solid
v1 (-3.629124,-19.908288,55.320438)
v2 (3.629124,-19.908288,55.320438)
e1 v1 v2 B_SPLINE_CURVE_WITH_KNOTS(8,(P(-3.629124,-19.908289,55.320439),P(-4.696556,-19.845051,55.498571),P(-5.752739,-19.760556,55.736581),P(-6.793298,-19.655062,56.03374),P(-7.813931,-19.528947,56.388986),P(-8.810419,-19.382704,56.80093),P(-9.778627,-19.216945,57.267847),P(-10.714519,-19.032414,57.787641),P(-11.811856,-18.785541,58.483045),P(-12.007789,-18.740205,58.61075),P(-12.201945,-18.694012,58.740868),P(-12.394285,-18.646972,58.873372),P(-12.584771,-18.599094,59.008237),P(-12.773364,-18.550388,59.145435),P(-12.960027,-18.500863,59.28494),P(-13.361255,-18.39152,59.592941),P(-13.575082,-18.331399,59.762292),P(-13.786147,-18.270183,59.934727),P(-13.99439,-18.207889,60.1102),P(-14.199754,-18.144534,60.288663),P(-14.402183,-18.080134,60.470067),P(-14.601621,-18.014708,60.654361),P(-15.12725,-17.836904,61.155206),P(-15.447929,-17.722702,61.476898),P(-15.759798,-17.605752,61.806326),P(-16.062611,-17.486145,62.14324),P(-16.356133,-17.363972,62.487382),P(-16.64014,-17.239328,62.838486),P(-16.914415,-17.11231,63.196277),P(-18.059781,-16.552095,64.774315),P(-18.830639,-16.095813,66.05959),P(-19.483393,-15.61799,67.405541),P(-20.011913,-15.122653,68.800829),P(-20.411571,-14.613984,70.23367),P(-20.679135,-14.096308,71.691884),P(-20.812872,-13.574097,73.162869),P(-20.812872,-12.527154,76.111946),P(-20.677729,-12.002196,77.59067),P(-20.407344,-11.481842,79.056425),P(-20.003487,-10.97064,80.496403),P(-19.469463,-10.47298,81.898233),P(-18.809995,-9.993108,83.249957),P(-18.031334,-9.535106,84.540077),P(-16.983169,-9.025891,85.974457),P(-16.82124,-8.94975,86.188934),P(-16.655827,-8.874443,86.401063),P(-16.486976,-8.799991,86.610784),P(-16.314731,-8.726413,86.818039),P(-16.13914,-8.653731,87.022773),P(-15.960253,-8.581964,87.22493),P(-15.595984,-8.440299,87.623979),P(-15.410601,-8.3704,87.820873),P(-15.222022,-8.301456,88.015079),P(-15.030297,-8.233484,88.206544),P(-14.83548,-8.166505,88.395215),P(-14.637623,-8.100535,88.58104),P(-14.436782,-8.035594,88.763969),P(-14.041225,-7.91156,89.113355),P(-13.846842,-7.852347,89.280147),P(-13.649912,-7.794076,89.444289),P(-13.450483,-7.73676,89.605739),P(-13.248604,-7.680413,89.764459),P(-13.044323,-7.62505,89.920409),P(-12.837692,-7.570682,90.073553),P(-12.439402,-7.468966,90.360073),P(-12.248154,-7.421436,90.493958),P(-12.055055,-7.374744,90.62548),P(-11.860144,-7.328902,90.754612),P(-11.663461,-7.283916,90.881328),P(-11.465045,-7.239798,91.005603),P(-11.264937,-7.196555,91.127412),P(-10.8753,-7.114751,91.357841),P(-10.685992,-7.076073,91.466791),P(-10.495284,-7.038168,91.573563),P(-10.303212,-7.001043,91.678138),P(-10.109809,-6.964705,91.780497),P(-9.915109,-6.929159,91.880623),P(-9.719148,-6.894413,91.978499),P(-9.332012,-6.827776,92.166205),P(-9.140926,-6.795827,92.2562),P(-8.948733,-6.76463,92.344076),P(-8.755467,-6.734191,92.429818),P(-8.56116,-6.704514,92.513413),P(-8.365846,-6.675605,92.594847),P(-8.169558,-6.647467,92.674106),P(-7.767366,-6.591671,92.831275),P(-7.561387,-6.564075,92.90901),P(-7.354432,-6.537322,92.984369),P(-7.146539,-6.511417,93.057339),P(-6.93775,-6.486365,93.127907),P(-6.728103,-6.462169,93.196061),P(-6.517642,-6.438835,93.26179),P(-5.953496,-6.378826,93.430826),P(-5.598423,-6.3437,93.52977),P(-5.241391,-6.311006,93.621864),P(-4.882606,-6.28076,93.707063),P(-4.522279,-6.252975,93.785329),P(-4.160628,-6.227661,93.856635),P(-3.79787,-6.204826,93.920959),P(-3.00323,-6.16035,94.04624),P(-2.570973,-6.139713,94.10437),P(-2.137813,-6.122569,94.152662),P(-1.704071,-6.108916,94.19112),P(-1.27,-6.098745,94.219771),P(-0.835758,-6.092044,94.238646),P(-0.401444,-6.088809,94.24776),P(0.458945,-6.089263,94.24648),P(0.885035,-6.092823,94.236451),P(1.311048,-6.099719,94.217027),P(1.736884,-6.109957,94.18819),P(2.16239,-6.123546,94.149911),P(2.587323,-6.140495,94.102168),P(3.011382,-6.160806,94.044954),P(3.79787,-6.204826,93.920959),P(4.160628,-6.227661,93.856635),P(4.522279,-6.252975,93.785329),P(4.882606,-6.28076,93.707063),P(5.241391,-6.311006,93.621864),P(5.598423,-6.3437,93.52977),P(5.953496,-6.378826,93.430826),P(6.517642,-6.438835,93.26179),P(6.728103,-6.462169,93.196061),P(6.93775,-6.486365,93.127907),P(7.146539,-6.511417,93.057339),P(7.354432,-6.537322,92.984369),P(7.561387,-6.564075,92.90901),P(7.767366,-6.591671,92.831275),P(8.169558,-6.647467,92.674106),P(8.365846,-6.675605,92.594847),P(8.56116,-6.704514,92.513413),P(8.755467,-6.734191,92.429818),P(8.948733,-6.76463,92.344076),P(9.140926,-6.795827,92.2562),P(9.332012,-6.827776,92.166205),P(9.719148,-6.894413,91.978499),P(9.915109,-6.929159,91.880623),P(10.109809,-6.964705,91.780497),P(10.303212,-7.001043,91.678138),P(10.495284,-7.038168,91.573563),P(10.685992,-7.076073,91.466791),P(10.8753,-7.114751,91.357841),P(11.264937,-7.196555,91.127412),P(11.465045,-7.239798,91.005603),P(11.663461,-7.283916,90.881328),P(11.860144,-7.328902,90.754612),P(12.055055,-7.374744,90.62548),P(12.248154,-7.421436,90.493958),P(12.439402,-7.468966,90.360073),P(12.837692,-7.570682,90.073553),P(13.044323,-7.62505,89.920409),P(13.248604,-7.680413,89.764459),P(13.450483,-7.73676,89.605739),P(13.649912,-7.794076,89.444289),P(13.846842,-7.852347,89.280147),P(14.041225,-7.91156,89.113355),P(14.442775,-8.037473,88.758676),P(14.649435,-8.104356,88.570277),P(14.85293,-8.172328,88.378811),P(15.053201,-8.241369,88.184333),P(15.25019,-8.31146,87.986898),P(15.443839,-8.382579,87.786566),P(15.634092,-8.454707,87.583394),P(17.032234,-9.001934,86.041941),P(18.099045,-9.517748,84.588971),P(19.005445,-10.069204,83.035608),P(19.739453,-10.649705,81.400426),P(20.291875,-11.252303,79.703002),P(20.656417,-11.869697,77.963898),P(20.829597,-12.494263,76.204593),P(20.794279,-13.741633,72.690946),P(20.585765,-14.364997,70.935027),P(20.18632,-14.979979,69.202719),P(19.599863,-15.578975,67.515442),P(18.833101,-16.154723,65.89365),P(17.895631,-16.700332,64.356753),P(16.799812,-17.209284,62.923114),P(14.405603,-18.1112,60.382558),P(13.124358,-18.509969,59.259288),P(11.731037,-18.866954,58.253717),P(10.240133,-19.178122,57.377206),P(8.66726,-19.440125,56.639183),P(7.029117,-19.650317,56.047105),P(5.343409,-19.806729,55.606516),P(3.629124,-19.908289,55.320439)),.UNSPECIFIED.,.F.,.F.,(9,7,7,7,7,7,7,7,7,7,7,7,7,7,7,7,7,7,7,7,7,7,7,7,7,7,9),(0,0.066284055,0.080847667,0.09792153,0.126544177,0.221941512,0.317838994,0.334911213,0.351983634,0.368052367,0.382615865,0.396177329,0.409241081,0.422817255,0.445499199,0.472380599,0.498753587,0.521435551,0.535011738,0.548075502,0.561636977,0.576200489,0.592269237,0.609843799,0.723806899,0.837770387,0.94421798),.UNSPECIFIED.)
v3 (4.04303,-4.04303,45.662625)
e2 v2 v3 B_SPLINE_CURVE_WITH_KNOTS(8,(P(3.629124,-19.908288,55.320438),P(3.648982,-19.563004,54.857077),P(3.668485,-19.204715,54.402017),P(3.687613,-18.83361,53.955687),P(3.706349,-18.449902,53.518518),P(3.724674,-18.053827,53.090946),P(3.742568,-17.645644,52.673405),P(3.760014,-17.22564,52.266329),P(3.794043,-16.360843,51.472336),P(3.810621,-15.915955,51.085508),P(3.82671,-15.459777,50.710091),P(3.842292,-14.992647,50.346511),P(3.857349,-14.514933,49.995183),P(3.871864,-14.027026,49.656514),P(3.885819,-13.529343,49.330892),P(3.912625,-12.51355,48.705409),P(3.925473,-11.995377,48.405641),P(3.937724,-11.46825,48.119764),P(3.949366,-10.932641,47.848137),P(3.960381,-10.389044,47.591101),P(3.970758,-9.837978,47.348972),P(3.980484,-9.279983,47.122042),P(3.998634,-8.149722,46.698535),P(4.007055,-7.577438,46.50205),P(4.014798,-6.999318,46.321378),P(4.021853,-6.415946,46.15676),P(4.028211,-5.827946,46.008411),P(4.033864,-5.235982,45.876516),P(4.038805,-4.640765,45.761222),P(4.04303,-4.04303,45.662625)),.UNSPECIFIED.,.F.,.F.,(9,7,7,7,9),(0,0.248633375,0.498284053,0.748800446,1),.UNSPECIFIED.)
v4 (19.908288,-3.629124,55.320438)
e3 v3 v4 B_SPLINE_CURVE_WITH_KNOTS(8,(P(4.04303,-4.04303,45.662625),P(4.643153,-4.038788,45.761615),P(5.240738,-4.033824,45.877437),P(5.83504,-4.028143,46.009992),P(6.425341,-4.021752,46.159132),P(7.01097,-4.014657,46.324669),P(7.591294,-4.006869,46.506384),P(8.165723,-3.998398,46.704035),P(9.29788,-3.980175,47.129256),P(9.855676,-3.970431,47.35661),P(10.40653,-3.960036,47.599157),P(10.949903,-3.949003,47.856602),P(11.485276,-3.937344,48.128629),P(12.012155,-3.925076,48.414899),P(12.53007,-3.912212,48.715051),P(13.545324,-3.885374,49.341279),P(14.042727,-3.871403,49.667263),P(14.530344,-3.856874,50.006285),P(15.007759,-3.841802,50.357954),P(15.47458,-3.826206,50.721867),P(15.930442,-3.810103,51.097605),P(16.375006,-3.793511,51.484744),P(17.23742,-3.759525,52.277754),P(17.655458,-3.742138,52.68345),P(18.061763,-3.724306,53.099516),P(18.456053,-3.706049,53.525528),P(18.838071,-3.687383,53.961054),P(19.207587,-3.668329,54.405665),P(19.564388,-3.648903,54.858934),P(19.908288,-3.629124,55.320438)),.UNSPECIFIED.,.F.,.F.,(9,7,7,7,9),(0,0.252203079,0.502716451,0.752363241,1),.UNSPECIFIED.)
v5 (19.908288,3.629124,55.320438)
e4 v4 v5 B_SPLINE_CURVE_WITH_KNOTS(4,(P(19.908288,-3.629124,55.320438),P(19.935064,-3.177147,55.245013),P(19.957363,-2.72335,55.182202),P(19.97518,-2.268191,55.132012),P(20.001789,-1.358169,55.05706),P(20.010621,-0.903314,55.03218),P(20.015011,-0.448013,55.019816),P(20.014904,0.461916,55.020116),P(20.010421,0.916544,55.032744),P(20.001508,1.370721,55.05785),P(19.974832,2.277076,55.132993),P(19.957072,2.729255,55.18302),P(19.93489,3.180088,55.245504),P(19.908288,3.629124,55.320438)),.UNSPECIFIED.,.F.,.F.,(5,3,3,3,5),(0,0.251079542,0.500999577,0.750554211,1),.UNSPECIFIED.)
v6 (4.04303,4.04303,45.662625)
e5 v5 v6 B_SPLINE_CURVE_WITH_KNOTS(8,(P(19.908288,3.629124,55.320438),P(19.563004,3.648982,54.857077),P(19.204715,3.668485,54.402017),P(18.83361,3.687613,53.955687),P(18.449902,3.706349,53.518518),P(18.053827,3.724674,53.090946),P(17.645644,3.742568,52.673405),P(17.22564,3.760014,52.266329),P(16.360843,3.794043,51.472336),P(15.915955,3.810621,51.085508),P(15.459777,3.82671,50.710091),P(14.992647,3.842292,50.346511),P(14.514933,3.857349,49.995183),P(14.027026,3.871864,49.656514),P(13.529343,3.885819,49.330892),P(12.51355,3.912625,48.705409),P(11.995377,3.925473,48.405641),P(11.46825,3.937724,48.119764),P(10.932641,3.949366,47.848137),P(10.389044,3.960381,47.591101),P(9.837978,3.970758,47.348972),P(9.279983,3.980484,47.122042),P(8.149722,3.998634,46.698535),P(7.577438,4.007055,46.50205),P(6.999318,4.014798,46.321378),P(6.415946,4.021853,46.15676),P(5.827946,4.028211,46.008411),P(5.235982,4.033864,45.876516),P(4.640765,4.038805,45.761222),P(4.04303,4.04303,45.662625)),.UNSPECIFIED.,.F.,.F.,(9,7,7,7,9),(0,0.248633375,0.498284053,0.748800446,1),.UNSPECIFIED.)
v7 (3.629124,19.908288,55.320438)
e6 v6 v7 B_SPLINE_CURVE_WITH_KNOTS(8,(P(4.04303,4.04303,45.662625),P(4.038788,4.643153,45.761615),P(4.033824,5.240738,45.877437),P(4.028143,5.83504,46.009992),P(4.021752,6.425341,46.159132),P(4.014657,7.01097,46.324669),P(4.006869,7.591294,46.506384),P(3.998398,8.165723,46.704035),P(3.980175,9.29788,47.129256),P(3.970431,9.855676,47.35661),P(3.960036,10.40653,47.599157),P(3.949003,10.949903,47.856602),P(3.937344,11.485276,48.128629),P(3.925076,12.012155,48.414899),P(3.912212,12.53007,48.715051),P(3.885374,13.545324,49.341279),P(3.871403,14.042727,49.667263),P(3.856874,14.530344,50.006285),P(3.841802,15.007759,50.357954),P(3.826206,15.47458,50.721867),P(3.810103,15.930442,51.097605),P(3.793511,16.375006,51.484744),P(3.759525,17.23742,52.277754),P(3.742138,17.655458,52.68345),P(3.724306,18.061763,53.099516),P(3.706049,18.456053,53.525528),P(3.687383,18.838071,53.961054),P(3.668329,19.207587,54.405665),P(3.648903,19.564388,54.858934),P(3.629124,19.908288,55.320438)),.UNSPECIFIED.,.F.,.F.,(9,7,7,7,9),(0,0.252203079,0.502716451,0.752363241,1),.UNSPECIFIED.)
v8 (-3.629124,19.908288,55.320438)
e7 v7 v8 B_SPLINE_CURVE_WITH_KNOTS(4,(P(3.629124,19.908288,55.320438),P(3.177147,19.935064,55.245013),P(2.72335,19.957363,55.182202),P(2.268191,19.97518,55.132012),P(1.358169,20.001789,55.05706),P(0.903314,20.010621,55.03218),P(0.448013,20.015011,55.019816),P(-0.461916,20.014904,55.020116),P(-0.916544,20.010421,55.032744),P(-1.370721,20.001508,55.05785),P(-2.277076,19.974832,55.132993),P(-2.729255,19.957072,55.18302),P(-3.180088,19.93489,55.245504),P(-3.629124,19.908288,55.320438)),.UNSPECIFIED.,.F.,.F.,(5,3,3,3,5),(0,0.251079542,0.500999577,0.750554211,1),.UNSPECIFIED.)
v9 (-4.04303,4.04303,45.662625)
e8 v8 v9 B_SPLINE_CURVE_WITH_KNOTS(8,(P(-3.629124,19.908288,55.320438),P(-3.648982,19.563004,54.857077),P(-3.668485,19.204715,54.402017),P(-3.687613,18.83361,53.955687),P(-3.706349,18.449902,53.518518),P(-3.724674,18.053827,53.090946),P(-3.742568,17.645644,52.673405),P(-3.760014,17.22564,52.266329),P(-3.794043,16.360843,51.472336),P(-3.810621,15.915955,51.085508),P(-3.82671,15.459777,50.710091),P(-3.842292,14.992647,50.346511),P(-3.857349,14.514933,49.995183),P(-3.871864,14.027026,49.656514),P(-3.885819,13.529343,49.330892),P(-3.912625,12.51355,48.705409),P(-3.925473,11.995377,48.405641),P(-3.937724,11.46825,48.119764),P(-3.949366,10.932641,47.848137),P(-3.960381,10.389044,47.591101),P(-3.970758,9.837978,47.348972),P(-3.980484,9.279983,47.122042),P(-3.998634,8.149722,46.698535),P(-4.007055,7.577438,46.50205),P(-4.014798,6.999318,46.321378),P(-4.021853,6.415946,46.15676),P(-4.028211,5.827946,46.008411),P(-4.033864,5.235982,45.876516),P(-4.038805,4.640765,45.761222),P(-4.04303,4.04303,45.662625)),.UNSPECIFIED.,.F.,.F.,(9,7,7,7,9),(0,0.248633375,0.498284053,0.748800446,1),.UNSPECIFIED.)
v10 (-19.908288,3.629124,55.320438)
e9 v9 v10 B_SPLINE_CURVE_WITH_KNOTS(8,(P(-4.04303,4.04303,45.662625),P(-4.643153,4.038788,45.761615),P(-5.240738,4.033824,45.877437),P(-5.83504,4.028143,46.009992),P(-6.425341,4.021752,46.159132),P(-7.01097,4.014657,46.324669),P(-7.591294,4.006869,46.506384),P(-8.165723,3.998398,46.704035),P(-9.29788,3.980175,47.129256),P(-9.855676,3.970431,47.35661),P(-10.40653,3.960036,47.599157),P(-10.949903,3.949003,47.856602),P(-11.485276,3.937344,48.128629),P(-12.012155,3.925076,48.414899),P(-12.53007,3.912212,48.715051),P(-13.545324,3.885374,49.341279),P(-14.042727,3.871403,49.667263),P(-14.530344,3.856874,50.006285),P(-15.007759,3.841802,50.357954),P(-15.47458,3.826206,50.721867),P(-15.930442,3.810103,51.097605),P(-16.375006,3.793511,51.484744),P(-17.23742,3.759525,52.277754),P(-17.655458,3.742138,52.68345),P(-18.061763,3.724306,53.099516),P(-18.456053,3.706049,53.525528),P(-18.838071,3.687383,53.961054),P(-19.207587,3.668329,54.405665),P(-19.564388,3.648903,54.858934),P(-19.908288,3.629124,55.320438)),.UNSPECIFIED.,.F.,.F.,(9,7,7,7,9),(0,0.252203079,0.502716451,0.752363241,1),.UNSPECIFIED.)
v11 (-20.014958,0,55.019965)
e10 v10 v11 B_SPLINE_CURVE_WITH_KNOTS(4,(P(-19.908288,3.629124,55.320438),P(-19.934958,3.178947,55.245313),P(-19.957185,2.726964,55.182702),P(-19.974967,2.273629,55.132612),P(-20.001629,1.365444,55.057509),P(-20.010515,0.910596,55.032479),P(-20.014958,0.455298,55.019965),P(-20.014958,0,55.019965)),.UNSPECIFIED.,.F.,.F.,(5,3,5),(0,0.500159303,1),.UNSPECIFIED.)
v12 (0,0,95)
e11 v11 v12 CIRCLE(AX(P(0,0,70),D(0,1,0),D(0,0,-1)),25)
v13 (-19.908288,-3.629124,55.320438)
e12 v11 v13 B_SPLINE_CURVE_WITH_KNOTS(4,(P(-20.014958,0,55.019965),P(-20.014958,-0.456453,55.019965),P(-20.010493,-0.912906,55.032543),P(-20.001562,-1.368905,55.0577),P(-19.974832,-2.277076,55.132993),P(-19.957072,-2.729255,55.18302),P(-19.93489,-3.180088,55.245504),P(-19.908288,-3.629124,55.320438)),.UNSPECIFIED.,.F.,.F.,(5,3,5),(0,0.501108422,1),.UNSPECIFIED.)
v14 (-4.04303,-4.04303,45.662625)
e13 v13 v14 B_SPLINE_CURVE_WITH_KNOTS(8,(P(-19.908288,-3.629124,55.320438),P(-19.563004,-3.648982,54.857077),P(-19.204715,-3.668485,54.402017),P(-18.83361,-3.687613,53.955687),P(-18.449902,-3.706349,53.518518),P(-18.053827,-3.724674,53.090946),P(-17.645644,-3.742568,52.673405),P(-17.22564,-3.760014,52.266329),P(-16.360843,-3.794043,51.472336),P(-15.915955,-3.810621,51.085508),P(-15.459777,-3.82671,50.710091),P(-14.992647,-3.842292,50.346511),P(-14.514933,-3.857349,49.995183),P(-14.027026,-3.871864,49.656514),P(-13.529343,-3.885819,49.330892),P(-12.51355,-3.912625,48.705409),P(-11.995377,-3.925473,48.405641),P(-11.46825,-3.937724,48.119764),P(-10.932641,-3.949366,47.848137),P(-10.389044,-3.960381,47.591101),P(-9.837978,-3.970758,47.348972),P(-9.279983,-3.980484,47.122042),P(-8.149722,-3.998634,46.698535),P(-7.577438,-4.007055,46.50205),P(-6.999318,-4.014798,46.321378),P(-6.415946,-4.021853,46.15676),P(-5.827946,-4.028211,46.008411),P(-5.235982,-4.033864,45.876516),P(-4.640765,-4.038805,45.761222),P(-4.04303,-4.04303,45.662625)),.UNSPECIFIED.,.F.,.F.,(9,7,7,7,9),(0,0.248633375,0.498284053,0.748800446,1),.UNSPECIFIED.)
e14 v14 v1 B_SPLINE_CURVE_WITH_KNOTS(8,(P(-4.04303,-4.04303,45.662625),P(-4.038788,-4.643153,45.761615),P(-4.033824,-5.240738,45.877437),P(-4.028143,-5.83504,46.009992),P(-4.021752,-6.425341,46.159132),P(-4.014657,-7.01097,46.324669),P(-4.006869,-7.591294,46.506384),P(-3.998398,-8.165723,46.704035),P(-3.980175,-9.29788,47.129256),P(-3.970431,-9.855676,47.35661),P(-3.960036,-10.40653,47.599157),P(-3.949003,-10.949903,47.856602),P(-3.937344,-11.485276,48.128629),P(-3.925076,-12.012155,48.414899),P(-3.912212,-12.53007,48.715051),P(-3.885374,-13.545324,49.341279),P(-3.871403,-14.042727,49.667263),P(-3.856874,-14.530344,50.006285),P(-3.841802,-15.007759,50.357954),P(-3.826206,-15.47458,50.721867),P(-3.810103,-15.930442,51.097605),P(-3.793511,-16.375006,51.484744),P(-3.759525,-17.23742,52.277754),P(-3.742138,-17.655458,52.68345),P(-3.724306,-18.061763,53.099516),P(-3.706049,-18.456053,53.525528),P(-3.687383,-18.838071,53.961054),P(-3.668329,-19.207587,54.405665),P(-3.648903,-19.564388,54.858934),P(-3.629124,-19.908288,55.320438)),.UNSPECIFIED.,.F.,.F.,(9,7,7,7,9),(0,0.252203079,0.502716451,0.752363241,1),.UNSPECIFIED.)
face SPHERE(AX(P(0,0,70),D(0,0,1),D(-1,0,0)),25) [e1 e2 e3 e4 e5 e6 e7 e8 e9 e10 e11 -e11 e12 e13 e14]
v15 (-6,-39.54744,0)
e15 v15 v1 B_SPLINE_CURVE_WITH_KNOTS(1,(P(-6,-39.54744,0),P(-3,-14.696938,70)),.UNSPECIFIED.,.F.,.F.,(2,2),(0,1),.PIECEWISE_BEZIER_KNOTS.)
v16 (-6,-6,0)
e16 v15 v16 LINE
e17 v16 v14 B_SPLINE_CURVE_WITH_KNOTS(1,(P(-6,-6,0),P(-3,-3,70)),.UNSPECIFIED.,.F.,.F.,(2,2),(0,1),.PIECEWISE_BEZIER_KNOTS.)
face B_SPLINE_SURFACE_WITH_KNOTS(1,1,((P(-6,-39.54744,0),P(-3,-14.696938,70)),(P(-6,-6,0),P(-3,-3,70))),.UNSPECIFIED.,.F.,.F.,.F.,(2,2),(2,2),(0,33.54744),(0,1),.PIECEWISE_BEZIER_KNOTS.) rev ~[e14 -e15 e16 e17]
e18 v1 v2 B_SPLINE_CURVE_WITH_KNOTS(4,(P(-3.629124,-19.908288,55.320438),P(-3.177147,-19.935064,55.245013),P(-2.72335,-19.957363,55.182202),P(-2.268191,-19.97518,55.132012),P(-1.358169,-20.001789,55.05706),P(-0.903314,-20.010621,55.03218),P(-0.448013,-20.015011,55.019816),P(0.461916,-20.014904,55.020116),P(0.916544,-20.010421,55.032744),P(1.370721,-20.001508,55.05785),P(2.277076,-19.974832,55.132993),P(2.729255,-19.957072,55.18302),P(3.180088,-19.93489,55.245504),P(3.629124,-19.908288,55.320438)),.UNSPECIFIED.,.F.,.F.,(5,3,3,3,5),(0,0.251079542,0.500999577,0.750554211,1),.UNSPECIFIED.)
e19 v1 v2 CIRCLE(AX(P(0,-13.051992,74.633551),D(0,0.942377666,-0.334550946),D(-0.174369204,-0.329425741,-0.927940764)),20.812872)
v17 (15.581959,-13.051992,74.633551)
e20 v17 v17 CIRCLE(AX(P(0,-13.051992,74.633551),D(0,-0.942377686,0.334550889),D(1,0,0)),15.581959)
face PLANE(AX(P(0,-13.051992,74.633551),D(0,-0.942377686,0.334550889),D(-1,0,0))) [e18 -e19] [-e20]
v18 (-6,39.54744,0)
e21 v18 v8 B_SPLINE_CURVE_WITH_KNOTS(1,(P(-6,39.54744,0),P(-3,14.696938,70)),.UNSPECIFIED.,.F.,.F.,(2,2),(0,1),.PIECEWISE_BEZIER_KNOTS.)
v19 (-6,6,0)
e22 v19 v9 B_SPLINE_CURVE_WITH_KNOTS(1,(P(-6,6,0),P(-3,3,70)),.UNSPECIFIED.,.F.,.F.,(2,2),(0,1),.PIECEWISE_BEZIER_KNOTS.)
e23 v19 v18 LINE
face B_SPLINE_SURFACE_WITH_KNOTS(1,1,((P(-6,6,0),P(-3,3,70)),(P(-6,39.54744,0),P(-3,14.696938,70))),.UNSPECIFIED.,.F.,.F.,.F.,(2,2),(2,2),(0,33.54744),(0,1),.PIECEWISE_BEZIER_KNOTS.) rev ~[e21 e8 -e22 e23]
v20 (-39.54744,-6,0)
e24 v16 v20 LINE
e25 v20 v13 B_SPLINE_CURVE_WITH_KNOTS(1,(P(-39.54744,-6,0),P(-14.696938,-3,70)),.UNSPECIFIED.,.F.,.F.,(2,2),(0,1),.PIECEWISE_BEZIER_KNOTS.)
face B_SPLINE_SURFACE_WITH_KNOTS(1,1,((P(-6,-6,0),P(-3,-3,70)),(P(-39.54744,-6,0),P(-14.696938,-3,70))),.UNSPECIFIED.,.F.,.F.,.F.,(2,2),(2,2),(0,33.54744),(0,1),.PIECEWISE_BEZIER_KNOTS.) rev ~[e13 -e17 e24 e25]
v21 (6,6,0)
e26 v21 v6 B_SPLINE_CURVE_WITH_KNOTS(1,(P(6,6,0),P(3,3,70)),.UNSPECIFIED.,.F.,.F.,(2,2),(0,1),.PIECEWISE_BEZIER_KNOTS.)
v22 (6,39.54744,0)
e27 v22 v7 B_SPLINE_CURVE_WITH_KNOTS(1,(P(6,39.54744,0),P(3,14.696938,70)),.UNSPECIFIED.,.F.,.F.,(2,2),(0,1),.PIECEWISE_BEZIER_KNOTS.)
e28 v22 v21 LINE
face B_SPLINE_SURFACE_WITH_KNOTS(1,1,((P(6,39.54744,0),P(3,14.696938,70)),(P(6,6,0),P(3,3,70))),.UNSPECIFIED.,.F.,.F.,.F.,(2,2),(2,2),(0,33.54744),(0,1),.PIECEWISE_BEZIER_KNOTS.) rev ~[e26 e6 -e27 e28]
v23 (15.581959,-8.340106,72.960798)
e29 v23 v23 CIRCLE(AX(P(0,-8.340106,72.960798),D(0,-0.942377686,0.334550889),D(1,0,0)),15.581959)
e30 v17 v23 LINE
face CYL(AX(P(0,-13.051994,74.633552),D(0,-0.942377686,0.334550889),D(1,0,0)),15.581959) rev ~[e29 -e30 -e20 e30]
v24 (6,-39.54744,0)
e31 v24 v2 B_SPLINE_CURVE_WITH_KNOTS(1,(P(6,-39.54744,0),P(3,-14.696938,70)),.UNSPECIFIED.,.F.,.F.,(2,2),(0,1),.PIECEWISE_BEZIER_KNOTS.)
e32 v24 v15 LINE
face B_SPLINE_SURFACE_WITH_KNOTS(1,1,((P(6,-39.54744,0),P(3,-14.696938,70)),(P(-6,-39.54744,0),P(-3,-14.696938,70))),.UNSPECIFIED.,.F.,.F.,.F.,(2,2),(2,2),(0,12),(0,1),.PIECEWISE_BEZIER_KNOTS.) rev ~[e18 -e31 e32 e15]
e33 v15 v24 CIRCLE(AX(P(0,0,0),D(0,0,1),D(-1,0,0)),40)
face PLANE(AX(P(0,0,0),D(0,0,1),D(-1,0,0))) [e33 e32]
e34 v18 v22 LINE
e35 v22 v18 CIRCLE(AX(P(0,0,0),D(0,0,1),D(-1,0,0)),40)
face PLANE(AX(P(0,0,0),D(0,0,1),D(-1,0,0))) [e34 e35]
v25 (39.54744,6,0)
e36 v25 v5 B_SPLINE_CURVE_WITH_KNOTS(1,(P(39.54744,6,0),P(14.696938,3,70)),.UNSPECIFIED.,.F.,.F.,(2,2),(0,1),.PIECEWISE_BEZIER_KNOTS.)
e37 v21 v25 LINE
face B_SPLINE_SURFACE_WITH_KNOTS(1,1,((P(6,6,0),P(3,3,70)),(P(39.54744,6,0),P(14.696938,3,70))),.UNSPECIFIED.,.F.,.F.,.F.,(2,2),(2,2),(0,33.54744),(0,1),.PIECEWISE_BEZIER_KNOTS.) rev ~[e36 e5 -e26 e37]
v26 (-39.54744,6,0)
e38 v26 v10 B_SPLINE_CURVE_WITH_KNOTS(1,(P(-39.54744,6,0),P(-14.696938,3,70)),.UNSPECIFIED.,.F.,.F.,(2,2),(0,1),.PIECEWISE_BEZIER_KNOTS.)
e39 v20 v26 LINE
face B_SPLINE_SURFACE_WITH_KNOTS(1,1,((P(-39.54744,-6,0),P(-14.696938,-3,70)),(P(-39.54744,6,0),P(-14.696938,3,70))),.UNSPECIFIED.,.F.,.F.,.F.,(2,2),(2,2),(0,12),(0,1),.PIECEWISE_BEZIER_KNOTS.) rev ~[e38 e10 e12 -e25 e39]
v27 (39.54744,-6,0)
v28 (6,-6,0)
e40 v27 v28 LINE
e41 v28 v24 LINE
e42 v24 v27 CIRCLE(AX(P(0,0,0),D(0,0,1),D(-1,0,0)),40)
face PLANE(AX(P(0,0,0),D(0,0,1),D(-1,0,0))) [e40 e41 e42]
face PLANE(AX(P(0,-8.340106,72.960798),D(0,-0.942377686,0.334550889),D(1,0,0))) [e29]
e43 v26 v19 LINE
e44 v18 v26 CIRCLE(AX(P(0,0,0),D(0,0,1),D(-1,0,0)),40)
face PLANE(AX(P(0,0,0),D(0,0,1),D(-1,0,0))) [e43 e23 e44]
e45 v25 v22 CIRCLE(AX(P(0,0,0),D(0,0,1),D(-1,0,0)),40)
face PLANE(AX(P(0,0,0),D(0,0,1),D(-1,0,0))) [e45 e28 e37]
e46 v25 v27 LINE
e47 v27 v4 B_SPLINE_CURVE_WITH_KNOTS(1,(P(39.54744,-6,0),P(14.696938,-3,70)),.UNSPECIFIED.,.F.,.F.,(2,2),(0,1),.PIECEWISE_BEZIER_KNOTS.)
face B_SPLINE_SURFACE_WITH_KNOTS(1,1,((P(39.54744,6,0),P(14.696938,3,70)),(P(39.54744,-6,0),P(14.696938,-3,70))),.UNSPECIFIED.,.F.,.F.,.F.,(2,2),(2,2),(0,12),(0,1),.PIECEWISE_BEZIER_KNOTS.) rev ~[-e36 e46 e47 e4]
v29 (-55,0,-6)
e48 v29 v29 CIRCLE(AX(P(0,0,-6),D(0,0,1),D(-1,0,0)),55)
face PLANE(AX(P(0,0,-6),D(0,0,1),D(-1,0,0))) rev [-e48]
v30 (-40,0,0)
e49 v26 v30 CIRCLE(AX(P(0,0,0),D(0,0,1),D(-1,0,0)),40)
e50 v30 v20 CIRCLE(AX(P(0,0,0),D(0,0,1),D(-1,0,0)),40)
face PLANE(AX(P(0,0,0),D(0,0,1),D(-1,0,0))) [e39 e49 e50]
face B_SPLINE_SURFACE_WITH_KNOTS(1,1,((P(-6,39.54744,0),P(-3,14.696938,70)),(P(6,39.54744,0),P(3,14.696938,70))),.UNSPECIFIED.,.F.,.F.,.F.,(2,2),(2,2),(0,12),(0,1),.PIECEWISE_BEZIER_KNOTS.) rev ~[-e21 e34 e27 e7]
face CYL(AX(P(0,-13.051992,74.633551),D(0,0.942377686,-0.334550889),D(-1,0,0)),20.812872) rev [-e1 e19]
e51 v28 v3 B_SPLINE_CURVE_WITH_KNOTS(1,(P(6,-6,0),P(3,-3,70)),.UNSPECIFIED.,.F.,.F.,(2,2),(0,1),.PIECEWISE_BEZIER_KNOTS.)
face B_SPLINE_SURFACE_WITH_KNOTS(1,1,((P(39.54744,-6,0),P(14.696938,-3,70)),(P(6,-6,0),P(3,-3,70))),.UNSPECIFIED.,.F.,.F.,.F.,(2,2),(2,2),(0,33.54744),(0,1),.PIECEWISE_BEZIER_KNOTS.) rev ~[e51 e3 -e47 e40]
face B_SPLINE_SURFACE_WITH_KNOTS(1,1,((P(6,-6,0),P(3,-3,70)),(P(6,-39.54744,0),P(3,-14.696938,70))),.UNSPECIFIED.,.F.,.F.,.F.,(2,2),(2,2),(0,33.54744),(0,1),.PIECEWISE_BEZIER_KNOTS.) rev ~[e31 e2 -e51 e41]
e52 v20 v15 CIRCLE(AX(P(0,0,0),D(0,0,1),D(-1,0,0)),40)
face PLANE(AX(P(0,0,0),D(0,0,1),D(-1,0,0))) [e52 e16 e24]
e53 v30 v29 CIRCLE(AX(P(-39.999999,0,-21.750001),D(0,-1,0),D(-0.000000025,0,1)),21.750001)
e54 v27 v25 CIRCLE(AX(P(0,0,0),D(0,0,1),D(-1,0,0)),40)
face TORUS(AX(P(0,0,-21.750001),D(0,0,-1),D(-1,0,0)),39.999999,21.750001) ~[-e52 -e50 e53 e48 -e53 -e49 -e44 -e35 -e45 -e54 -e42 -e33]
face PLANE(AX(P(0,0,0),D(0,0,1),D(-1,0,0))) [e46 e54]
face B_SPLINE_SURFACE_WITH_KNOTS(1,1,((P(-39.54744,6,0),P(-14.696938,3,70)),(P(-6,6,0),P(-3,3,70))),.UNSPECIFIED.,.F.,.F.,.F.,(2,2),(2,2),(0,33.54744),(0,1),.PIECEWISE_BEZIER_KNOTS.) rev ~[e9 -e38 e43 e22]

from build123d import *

# Parameters (mm, degrees)
SKETCH004_R     = 20.812872
POCKET_DEPTH    = 46.345478
SKETCH005_R     = 15.581959
POCKET001_DEPTH = 5


with BuildPart() as part:
    # Sketch001 → Revolution (revolve)
    with BuildSketch(Plane.XZ):
        with BuildLine():
            Line((0, -6), (-40, -6))
            Line((-40, -6), (-55, -6))
            ThreePointArc((-40, 0), (-48.077747, -1.555632), (-55, -6))
            Line((-40, 0), (0, 0))
            Line((0, -6), (0, 0))
        make_face()
    revolve(axis=Axis((0, 0, 0), (0, 0, 1)))

    # Sketch002 (on Face4 of Revolution) → AdditiveLoft section 0
    with BuildSketch(Plane(origin=(0, 0, 0), x_dir=(-1, 0, 0), z_dir=(0, 0, 1))):
        Polygon((-6, 39.54744), (6, 39.54744), (6, 6), (39.54744, 6), (39.54744, -6), (6, -6), (6, -39.54744), (-6, -39.54744), (-6, -6), (-39.54744, -6), (-39.54744, 6), (-6, 6), align=None)
    # Sketch003 (on Face4 of Revolution) → AdditiveLoft section 1
    with BuildSketch(Plane(origin=(0, 0, 70), x_dir=(-1, 0, 0), z_dir=(0, 0, 1))):
        Polygon((-3, 14.696938), (3, 14.696938), (3, 3), (14.696938, 3), (14.696938, -3), (3, -3), (3, -14.696938), (-3, -14.696938), (-3, -3), (-14.696938, -3), (-14.696938, 3), (-3, 3), align=None)
    loft()

    # Sphere → Sphere (revolve)
    with BuildSketch(Plane(origin=(0, 0, 70), x_dir=(-1, 0, 0), z_dir=(0, 1, 0))):
        with BuildLine():
            ThreePointArc((0, -25), (25, 0), (0, 25))
            Line((0, 25), (0, -25))
        make_face()
    revolve(axis=Axis((0, 0, 70), (0, 0, 1)))

    # Sketch004 (on DatumPlane) → Pocket (cut, through all)
    with BuildSketch(Plane(origin=(0, -30.562796, 25.308346), x_dir=(-1, 0, 0), z_dir=(0, -0.942378, 0.334551))):
        with Locations((0, -52.341228)):
            Circle(SKETCH004_R)
    extrude(amount=POCKET_DEPTH, mode=Mode.SUBTRACT)

    # Sketch005 (on Face25 of Pocket) → Pocket001 (cut)
    with BuildSketch(Plane(origin=(0, -13.051994, 74.633552), x_dir=(1, 0, 0), z_dir=(0, -0.942378, 0.334551))):
        Circle(SKETCH005_R)
    extrude(amount=-POCKET001_DEPTH, mode=Mode.SUBTRACT)


solid = part.part
